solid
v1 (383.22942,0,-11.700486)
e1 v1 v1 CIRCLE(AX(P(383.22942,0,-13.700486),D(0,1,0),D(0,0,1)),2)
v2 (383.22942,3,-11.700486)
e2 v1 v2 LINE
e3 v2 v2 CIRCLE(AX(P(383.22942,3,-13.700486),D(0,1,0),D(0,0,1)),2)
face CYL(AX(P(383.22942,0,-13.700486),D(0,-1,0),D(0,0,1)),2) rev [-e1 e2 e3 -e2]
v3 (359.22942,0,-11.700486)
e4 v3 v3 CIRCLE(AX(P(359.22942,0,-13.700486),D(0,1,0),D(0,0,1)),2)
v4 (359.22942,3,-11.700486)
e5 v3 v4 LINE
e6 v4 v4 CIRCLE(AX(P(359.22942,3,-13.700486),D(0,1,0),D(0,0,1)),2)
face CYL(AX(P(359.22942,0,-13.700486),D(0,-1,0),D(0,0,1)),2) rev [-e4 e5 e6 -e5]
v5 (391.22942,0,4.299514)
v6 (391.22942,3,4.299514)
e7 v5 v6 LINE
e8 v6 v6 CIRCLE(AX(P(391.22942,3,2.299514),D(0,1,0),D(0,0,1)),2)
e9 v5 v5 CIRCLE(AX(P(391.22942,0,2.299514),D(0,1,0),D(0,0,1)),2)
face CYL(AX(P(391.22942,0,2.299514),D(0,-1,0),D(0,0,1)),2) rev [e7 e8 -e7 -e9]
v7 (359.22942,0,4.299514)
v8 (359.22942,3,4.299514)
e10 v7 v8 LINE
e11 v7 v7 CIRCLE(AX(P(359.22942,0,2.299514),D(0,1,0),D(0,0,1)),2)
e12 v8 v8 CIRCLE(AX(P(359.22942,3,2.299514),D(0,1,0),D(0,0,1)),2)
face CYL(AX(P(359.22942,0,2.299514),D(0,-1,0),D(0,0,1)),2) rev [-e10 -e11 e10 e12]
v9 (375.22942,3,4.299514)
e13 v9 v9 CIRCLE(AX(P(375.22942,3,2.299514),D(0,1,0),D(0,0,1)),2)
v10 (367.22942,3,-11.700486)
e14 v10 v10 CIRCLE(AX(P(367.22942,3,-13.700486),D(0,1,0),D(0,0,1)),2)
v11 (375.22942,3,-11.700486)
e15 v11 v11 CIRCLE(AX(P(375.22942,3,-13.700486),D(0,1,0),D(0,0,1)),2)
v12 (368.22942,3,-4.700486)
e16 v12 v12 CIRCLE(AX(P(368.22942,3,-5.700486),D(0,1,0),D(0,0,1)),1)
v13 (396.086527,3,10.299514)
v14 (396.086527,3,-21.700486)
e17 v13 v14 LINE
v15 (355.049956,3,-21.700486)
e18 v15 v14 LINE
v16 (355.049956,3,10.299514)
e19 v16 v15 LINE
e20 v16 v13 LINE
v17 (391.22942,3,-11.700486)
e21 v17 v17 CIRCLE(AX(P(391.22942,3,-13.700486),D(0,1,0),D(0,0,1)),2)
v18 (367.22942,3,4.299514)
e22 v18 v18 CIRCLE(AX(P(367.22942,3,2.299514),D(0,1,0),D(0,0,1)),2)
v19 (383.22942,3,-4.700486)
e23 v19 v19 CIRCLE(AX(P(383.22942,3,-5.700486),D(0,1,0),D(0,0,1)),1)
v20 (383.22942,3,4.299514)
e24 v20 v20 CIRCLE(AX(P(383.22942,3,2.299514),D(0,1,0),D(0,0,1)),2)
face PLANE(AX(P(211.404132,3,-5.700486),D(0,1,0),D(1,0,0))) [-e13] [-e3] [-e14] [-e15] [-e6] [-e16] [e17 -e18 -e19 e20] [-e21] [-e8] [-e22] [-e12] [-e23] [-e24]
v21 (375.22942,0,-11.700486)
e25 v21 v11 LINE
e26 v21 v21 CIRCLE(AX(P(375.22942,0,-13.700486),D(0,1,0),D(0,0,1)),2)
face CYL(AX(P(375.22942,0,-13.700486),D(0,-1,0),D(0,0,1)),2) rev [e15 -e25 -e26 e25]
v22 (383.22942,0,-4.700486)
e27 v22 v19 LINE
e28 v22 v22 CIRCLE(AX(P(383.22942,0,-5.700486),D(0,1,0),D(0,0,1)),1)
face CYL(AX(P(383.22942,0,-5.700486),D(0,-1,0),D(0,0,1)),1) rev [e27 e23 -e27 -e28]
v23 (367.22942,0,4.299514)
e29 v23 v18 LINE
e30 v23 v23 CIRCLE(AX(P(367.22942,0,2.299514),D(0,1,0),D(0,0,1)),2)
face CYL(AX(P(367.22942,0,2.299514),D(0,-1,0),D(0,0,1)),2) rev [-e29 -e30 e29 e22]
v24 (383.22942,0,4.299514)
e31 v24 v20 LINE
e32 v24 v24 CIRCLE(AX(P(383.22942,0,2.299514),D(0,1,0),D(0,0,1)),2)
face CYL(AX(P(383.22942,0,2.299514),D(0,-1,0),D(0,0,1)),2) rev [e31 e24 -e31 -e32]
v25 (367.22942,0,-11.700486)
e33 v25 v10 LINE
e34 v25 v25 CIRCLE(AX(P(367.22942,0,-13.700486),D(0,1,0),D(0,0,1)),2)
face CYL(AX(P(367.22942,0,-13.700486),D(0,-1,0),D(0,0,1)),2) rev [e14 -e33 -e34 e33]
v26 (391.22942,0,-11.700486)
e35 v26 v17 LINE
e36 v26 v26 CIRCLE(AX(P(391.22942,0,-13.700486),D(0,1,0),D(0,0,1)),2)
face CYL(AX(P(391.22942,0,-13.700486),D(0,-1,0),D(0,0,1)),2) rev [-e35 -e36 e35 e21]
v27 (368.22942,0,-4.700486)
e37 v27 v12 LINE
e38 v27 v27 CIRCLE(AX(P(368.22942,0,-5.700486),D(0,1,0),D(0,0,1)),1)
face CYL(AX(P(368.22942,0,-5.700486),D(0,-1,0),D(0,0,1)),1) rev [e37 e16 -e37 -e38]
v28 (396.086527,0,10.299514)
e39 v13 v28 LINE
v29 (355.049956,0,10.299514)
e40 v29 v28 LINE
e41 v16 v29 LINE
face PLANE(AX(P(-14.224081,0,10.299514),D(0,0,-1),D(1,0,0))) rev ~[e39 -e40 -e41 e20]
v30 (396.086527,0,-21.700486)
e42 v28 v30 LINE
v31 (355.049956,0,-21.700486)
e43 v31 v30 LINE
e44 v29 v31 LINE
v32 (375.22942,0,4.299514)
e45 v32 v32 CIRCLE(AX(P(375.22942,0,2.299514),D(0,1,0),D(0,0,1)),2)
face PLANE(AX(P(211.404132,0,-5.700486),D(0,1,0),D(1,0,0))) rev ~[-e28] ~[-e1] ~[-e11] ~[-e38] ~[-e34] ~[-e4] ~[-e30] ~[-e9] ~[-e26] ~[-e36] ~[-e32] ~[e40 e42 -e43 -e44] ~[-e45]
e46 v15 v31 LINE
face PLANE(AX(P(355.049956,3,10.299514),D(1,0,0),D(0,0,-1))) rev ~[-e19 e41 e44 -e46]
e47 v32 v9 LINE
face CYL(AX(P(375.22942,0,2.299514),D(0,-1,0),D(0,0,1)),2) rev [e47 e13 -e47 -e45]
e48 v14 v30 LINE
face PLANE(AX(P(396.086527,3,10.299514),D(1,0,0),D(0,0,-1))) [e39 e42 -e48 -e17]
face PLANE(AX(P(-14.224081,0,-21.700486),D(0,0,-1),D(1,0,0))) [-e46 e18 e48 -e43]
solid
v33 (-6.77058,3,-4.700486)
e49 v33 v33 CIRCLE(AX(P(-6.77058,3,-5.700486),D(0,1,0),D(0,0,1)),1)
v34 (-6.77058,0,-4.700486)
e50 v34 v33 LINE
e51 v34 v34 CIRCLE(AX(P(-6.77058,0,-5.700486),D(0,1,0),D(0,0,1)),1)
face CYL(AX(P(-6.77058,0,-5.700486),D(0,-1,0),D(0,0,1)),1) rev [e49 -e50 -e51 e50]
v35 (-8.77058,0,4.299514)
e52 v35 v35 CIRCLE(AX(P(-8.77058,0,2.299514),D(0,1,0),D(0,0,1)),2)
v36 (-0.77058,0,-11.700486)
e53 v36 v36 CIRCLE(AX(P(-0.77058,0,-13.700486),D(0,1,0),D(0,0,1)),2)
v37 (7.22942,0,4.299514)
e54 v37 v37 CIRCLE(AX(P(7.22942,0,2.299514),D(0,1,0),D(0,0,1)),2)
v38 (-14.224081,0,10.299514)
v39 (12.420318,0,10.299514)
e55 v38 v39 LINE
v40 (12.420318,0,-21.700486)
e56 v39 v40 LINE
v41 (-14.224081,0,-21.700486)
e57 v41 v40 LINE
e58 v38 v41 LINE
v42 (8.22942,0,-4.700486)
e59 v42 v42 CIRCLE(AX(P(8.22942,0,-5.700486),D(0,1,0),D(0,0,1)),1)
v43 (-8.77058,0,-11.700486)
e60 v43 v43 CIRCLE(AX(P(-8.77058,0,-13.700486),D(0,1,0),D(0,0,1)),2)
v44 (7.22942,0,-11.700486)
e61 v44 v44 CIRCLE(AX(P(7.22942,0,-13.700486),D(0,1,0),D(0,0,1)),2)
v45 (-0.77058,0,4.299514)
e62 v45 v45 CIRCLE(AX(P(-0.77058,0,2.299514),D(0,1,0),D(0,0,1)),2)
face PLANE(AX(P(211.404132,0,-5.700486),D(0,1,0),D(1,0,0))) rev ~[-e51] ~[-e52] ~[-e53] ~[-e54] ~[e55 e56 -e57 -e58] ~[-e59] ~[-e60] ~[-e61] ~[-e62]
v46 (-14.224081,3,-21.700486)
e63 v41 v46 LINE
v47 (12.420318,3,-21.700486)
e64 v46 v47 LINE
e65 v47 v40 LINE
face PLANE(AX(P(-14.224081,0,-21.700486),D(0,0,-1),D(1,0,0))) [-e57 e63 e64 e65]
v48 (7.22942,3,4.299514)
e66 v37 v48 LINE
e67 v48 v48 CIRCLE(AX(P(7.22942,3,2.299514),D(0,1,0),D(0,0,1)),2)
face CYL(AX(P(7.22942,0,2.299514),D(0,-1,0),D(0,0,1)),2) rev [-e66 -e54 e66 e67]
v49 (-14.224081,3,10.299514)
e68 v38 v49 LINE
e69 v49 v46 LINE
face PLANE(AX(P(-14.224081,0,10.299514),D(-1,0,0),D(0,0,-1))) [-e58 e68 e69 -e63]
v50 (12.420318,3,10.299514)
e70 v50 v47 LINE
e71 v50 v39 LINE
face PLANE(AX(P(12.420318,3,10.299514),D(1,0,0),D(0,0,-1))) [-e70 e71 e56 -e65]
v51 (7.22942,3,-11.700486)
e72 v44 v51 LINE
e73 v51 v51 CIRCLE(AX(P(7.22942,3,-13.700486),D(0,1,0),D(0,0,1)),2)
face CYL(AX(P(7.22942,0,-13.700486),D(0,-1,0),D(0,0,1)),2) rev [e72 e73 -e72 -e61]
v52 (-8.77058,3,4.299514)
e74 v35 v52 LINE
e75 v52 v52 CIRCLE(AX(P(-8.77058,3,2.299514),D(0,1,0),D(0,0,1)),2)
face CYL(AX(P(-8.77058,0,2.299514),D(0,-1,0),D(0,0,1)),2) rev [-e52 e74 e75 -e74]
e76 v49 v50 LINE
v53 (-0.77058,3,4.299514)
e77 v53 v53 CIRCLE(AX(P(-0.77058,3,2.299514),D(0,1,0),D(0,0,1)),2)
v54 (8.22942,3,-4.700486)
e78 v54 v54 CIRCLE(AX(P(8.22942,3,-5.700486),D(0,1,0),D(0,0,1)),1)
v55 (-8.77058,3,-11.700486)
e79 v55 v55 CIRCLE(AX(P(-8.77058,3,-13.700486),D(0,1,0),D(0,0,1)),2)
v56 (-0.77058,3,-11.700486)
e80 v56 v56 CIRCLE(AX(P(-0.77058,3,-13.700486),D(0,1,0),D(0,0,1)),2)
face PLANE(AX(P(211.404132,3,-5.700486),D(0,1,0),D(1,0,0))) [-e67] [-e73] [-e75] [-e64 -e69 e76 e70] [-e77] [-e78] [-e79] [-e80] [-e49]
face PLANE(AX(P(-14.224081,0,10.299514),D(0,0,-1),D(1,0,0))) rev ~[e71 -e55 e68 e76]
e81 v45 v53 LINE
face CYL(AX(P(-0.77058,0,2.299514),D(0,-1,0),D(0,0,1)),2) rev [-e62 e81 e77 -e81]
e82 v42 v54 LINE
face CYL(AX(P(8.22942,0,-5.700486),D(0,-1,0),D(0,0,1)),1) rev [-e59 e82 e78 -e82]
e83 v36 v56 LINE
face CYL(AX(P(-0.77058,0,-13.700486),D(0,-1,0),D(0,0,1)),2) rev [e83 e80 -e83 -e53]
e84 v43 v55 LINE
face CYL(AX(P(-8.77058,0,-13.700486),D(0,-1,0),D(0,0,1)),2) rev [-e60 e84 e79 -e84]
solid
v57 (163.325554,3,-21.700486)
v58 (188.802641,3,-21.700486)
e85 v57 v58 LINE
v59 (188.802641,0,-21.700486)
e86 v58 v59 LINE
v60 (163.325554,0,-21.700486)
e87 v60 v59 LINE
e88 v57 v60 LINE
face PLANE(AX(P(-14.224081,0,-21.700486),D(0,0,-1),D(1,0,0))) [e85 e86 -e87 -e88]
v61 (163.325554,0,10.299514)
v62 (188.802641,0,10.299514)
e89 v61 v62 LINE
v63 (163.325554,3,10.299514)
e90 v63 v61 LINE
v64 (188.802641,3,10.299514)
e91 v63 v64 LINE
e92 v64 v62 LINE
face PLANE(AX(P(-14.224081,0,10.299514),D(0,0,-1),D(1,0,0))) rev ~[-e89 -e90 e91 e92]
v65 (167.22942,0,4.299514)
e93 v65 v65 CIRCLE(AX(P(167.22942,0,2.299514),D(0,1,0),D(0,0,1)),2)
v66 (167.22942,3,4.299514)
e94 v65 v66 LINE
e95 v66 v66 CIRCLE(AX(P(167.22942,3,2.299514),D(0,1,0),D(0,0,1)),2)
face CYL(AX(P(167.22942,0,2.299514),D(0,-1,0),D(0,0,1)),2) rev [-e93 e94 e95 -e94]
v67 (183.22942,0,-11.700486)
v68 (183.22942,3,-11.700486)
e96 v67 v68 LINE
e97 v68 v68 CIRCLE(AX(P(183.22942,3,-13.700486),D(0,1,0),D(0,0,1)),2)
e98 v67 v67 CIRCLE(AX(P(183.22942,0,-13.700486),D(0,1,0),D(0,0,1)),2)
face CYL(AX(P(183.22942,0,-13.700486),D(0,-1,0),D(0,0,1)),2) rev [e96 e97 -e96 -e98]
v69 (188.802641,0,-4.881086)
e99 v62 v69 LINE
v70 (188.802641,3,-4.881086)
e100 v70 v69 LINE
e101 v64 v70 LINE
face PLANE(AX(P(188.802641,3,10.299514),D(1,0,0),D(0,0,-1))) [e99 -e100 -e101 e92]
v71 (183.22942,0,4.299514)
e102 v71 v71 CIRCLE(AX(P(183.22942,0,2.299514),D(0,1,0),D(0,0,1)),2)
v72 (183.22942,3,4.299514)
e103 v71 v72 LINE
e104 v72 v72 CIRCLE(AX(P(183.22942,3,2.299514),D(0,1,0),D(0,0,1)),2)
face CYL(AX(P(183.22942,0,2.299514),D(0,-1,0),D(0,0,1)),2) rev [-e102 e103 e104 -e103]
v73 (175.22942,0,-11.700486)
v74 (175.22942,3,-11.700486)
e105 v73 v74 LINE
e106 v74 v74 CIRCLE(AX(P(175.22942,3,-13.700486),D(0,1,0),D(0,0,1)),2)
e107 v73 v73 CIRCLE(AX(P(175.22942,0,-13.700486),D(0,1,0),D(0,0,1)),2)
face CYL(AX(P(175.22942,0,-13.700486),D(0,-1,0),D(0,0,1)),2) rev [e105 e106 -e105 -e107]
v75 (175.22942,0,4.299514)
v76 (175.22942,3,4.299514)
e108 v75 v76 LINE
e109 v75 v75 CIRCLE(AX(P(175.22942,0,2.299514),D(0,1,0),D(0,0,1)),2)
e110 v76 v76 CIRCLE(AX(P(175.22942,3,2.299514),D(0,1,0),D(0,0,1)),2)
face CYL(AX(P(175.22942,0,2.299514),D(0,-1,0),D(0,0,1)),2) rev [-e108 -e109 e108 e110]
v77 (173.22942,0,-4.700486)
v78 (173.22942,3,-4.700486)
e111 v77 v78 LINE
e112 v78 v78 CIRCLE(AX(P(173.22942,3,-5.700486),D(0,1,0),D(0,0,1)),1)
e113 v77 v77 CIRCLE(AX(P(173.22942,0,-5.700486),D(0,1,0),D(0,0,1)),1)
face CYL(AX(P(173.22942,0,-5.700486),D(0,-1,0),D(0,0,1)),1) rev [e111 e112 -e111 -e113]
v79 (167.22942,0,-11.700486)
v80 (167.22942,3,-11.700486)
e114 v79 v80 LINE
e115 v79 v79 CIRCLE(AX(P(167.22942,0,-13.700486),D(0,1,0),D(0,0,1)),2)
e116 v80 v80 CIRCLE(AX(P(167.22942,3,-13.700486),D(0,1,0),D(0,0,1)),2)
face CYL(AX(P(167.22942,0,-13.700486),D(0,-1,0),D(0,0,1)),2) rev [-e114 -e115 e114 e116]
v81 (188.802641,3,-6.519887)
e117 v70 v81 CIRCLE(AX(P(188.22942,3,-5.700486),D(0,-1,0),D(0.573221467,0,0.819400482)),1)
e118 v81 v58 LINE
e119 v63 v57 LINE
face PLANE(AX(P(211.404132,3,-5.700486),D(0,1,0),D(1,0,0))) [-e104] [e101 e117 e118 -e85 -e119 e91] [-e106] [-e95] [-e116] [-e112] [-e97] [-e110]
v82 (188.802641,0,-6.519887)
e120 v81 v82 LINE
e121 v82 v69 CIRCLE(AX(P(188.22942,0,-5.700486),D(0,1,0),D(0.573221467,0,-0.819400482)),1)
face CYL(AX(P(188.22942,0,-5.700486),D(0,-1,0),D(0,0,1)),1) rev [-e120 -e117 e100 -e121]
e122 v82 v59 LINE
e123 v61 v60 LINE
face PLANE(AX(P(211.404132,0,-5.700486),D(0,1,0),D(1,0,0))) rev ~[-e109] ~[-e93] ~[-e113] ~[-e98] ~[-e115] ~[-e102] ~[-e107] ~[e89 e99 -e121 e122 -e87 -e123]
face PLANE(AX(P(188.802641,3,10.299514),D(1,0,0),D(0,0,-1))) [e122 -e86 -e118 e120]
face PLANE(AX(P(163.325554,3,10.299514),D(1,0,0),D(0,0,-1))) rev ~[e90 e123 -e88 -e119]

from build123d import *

# Parameters (mm, degrees)
SKETCH_1_W          = 451.256425997
SKETCH_1_H          = 32
SKETCH_1_R          = 2
SKETCH_1_R_2        = 1
EXTRUDE_1_DEPTH     = 3
SKETCH_2_W          = 150.905235642
SKETCH_2_H          = 32
SKETCH_2_W_2        = 166.247314789
SKETCH_2_W_3        = 40.945817217
CUT_EXTRUDE_1_DEPTH = 3


with BuildPart() as part:
    # 草圖1 → 填料-伸長1 (new body)
    with BuildSketch(Plane(origin=(0, 0, 0), x_dir=(1, 0, 0), z_dir=(0, 1, 0))):
        with Locations((211.404131582, 5.700486404)):
            Rectangle(SKETCH_1_W, SKETCH_1_H)
        with Locations(Location((-8.770580193, 13.700486404, 0), (0, 0, 270))):
            Circle(SKETCH_1_R, mode=Mode.SUBTRACT)
        with Locations(Location((-8.770580193, -2.299513596, 0), (0, 0, 270))):
            Circle(SKETCH_1_R, mode=Mode.SUBTRACT)
        with Locations(Location((-0.770580193, 13.700486404, 0), (0, 0, 270))):
            Circle(SKETCH_1_R, mode=Mode.SUBTRACT)
        with Locations(Location((-0.770580193, -2.299513596, 0), (0, 0, 270))):
            Circle(SKETCH_1_R, mode=Mode.SUBTRACT)
        with Locations(Location((7.229419807, 13.700486404, 0), (0, 0, 270))):
            Circle(SKETCH_1_R, mode=Mode.SUBTRACT)
        with Locations(Location((7.229419807, -2.299513596, 0), (0, 0, 270))):
            Circle(SKETCH_1_R, mode=Mode.SUBTRACT)
        with Locations(Location((15.229419807, 13.700486404, 0), (0, 0, 270))):
            Circle(SKETCH_1_R, mode=Mode.SUBTRACT)
        with Locations(Location((15.229419807, -2.299513596, 0), (0, 0, 270))):
            Circle(SKETCH_1_R, mode=Mode.SUBTRACT)
        with Locations(Location((23.229419807, 13.700486404, 0), (0, 0, 270))):
            Circle(SKETCH_1_R, mode=Mode.SUBTRACT)
        with Locations(Location((23.229419807, -2.299513596, 0), (0, 0, 270))):
            Circle(SKETCH_1_R, mode=Mode.SUBTRACT)
        with Locations(Location((31.229419807, 13.700486404, 0), (0, 0, 270))):
            Circle(SKETCH_1_R, mode=Mode.SUBTRACT)
        with Locations(Location((31.229419807, -2.299513596, 0), (0, 0, 270))):
            Circle(SKETCH_1_R, mode=Mode.SUBTRACT)
        with Locations(Location((39.229419807, 13.700486404, 0), (0, 0, 270))):
            Circle(SKETCH_1_R, mode=Mode.SUBTRACT)
        with Locations(Location((39.229419807, -2.299513596, 0), (0, 0, 270))):
            Circle(SKETCH_1_R, mode=Mode.SUBTRACT)
        with Locations(Location((47.229419807, 13.700486404, 0), (0, 0, 270))):
            Circle(SKETCH_1_R, mode=Mode.SUBTRACT)
        with Locations(Location((47.229419807, -2.299513596, 0), (0, 0, 270))):
            Circle(SKETCH_1_R, mode=Mode.SUBTRACT)
        with Locations(Location((55.229419807, 13.700486404, 0), (0, 0, 270))):
            Circle(SKETCH_1_R, mode=Mode.SUBTRACT)
        with Locations(Location((55.229419807, -2.299513596, 0), (0, 0, 270))):
            Circle(SKETCH_1_R, mode=Mode.SUBTRACT)
        with Locations(Location((63.229419807, 13.700486404, 0), (0, 0, 270))):
            Circle(SKETCH_1_R, mode=Mode.SUBTRACT)
        with Locations(Location((63.229419807, -2.299513596, 0), (0, 0, 270))):
            Circle(SKETCH_1_R, mode=Mode.SUBTRACT)
        with Locations(Location((71.229419807, 13.700486404, 0), (0, 0, 270))):
            Circle(SKETCH_1_R, mode=Mode.SUBTRACT)
        with Locations(Location((71.229419807, -2.299513596, 0), (0, 0, 270))):
            Circle(SKETCH_1_R, mode=Mode.SUBTRACT)
        with Locations(Location((79.229419807, 13.700486404, 0), (0, 0, 270))):
            Circle(SKETCH_1_R, mode=Mode.SUBTRACT)
        with Locations(Location((79.229419807, -2.299513596, 0), (0, 0, 270))):
            Circle(SKETCH_1_R, mode=Mode.SUBTRACT)
        with Locations(Location((87.229419807, 13.700486404, 0), (0, 0, 270))):
            Circle(SKETCH_1_R, mode=Mode.SUBTRACT)
        with Locations(Location((87.229419807, -2.299513596, 0), (0, 0, 270))):
            Circle(SKETCH_1_R, mode=Mode.SUBTRACT)
        with Locations(Location((95.229419807, 13.700486404, 0), (0, 0, 270))):
            Circle(SKETCH_1_R, mode=Mode.SUBTRACT)
        with Locations(Location((95.229419807, -2.299513596, 0), (0, 0, 270))):
            Circle(SKETCH_1_R, mode=Mode.SUBTRACT)
        with Locations(Location((103.229419807, 13.700486404, 0), (0, 0, 270))):
            Circle(SKETCH_1_R, mode=Mode.SUBTRACT)
        with Locations(Location((103.229419807, -2.299513596, 0), (0, 0, 270))):
            Circle(SKETCH_1_R, mode=Mode.SUBTRACT)
        with Locations(Location((111.229419807, 13.700486404, 0), (0, 0, 270))):
            Circle(SKETCH_1_R, mode=Mode.SUBTRACT)
        with Locations(Location((111.229419807, -2.299513596, 0), (0, 0, 270))):
            Circle(SKETCH_1_R, mode=Mode.SUBTRACT)
        with Locations(Location((119.229419807, 13.700486404, 0), (0, 0, 270))):
            Circle(SKETCH_1_R, mode=Mode.SUBTRACT)
        with Locations(Location((119.229419807, -2.299513596, 0), (0, 0, 270))):
            Circle(SKETCH_1_R, mode=Mode.SUBTRACT)
        with Locations(Location((127.229419807, 13.700486404, 0), (0, 0, 270))):
            Circle(SKETCH_1_R, mode=Mode.SUBTRACT)
        with Locations(Location((127.229419807, -2.299513596, 0), (0, 0, 270))):
            Circle(SKETCH_1_R, mode=Mode.SUBTRACT)
        with Locations(Location((135.229419807, 13.700486404, 0), (0, 0, 270))):
            Circle(SKETCH_1_R, mode=Mode.SUBTRACT)
        with Locations(Location((135.229419807, -2.299513596, 0), (0, 0, 270))):
            Circle(SKETCH_1_R, mode=Mode.SUBTRACT)
        with Locations(Location((143.229419807, 13.700486404, 0), (0, 0, 270))):
            Circle(SKETCH_1_R, mode=Mode.SUBTRACT)
        with Locations(Location((143.229419807, -2.299513596, 0), (0, 0, 270))):
            Circle(SKETCH_1_R, mode=Mode.SUBTRACT)
        with Locations(Location((151.229419807, 13.700486404, 0), (0, 0, 270))):
            Circle(SKETCH_1_R, mode=Mode.SUBTRACT)
        with Locations(Location((151.229419807, -2.299513596, 0), (0, 0, 270))):
            Circle(SKETCH_1_R, mode=Mode.SUBTRACT)
        with Locations(Location((159.229419807, 13.700486404, 0), (0, 0, 270))):
            Circle(SKETCH_1_R, mode=Mode.SUBTRACT)
        with Locations(Location((159.229419807, -2.299513596, 0), (0, 0, 270))):
            Circle(SKETCH_1_R, mode=Mode.SUBTRACT)
        with Locations(Location((167.229419807, 13.700486404, 0), (0, 0, 270))):
            Circle(SKETCH_1_R, mode=Mode.SUBTRACT)
        with Locations(Location((167.229419807, -2.299513596, 0), (0, 0, 270))):
            Circle(SKETCH_1_R, mode=Mode.SUBTRACT)
        with Locations(Location((175.229419807, 13.700486404, 0), (0, 0, 270))):
            Circle(SKETCH_1_R, mode=Mode.SUBTRACT)
        with Locations(Location((175.229419807, -2.299513596, 0), (0, 0, 270))):
            Circle(SKETCH_1_R, mode=Mode.SUBTRACT)
        with Locations(Location((183.229419807, 13.700486404, 0), (0, 0, 270))):
            Circle(SKETCH_1_R, mode=Mode.SUBTRACT)
        with Locations(Location((183.229419807, -2.299513596, 0), (0, 0, 270))):
            Circle(SKETCH_1_R, mode=Mode.SUBTRACT)
        with Locations(Location((191.229419807, 13.700486404, 0), (0, 0, 270))):
            Circle(SKETCH_1_R, mode=Mode.SUBTRACT)
        with Locations(Location((191.229419807, -2.299513596, 0), (0, 0, 270))):
            Circle(SKETCH_1_R, mode=Mode.SUBTRACT)
        with Locations(Location((199.229419807, 13.700486404, 0), (0, 0, 270))):
            Circle(SKETCH_1_R, mode=Mode.SUBTRACT)
        with Locations(Location((199.229419807, -2.299513596, 0), (0, 0, 270))):
            Circle(SKETCH_1_R, mode=Mode.SUBTRACT)
        with Locations(Location((207.229419807, 13.700486404, 0), (0, 0, 270))):
            Circle(SKETCH_1_R, mode=Mode.SUBTRACT)
        with Locations(Location((207.229419807, -2.299513596, 0), (0, 0, 270))):
            Circle(SKETCH_1_R, mode=Mode.SUBTRACT)
        with Locations(Location((215.229419807, 13.700486404, 0), (0, 0, 270))):
            Circle(SKETCH_1_R, mode=Mode.SUBTRACT)
        with Locations(Location((215.229419807, -2.299513596, 0), (0, 0, 270))):
            Circle(SKETCH_1_R, mode=Mode.SUBTRACT)
        with Locations(Location((223.229419807, 13.700486404, 0), (0, 0, 270))):
            Circle(SKETCH_1_R, mode=Mode.SUBTRACT)
        with Locations(Location((223.229419807, -2.299513596, 0), (0, 0, 270))):
            Circle(SKETCH_1_R, mode=Mode.SUBTRACT)
        with Locations(Location((231.229419807, 13.700486404, 0), (0, 0, 270))):
            Circle(SKETCH_1_R, mode=Mode.SUBTRACT)
        with Locations(Location((231.229419807, -2.299513596, 0), (0, 0, 270))):
            Circle(SKETCH_1_R, mode=Mode.SUBTRACT)
        with Locations(Location((239.229419807, 13.700486404, 0), (0, 0, 270))):
            Circle(SKETCH_1_R, mode=Mode.SUBTRACT)
        with Locations(Location((239.229419807, -2.299513596, 0), (0, 0, 270))):
            Circle(SKETCH_1_R, mode=Mode.SUBTRACT)
        with Locations(Location((247.229419807, 13.700486404, 0), (0, 0, 270))):
            Circle(SKETCH_1_R, mode=Mode.SUBTRACT)
        with Locations(Location((247.229419807, -2.299513596, 0), (0, 0, 270))):
            Circle(SKETCH_1_R, mode=Mode.SUBTRACT)
        with Locations(Location((255.229419807, 13.700486404, 0), (0, 0, 270))):
            Circle(SKETCH_1_R, mode=Mode.SUBTRACT)
        with Locations(Location((255.229419807, -2.299513596, 0), (0, 0, 270))):
            Circle(SKETCH_1_R, mode=Mode.SUBTRACT)
        with Locations(Location((263.229419807, 13.700486404, 0), (0, 0, 270))):
            Circle(SKETCH_1_R, mode=Mode.SUBTRACT)
        with Locations(Location((263.229419807, -2.299513596, 0), (0, 0, 270))):
            Circle(SKETCH_1_R, mode=Mode.SUBTRACT)
        with Locations(Location((271.229419807, 13.700486404, 0), (0, 0, 270))):
            Circle(SKETCH_1_R, mode=Mode.SUBTRACT)
        with Locations(Location((271.229419807, -2.299513596, 0), (0, 0, 270))):
            Circle(SKETCH_1_R, mode=Mode.SUBTRACT)
        with Locations(Location((279.229419807, 13.700486404, 0), (0, 0, 270))):
            Circle(SKETCH_1_R, mode=Mode.SUBTRACT)
        with Locations(Location((279.229419807, -2.299513596, 0), (0, 0, 270))):
            Circle(SKETCH_1_R, mode=Mode.SUBTRACT)
        with Locations(Location((287.229419807, 13.700486404, 0), (0, 0, 270))):
            Circle(SKETCH_1_R, mode=Mode.SUBTRACT)
        with Locations(Location((287.229419807, -2.299513596, 0), (0, 0, 270))):
            Circle(SKETCH_1_R, mode=Mode.SUBTRACT)
        with Locations(Location((295.229419807, 13.700486404, 0), (0, 0, 270))):
            Circle(SKETCH_1_R, mode=Mode.SUBTRACT)
        with Locations(Location((295.229419807, -2.299513596, 0), (0, 0, 270))):
            Circle(SKETCH_1_R, mode=Mode.SUBTRACT)
        with Locations(Location((303.229419807, 13.700486404, 0), (0, 0, 270))):
            Circle(SKETCH_1_R, mode=Mode.SUBTRACT)
        with Locations(Location((303.229419807, -2.299513596, 0), (0, 0, 270))):
            Circle(SKETCH_1_R, mode=Mode.SUBTRACT)
        with Locations(Location((311.229419807, 13.700486404, 0), (0, 0, 270))):
            Circle(SKETCH_1_R, mode=Mode.SUBTRACT)
        with Locations(Location((311.229419807, -2.299513596, 0), (0, 0, 270))):
            Circle(SKETCH_1_R, mode=Mode.SUBTRACT)
        with Locations(Location((319.229419807, 13.700486404, 0), (0, 0, 270))):
            Circle(SKETCH_1_R, mode=Mode.SUBTRACT)
        with Locations(Location((319.229419807, -2.299513596, 0), (0, 0, 270))):
            Circle(SKETCH_1_R, mode=Mode.SUBTRACT)
        with Locations(Location((327.229419807, 13.700486404, 0), (0, 0, 270))):
            Circle(SKETCH_1_R, mode=Mode.SUBTRACT)
        with Locations(Location((327.229419807, -2.299513596, 0), (0, 0, 270))):
            Circle(SKETCH_1_R, mode=Mode.SUBTRACT)
        with Locations(Location((335.229419807, 13.700486404, 0), (0, 0, 270))):
            Circle(SKETCH_1_R, mode=Mode.SUBTRACT)
        with Locations(Location((335.229419807, -2.299513596, 0), (0, 0, 270))):
            Circle(SKETCH_1_R, mode=Mode.SUBTRACT)
        with Locations(Location((343.229419807, 13.700486404, 0), (0, 0, 270))):
            Circle(SKETCH_1_R, mode=Mode.SUBTRACT)
        with Locations(Location((343.229419807, -2.299513596, 0), (0, 0, 270))):
            Circle(SKETCH_1_R, mode=Mode.SUBTRACT)
        with Locations(Location((351.229419807, 13.700486404, 0), (0, 0, 270))):
            Circle(SKETCH_1_R, mode=Mode.SUBTRACT)
        with Locations(Location((351.229419807, -2.299513596, 0), (0, 0, 270))):
            Circle(SKETCH_1_R, mode=Mode.SUBTRACT)
        with Locations(Location((359.229419807, 13.700486404, 0), (0, 0, 270))):
            Circle(SKETCH_1_R, mode=Mode.SUBTRACT)
        with Locations(Location((359.229419807, -2.299513596, 0), (0, 0, 270))):
            Circle(SKETCH_1_R, mode=Mode.SUBTRACT)
        with Locations(Location((367.229419807, 13.700486404, 0), (0, 0, 270))):
            Circle(SKETCH_1_R, mode=Mode.SUBTRACT)
        with Locations(Location((367.229419807, -2.299513596, 0), (0, 0, 270))):
            Circle(SKETCH_1_R, mode=Mode.SUBTRACT)
        with Locations(Location((375.229419807, 13.700486404, 0), (0, 0, 270))):
            Circle(SKETCH_1_R, mode=Mode.SUBTRACT)
        with Locations(Location((375.229419807, -2.299513596, 0), (0, 0, 270))):
            Circle(SKETCH_1_R, mode=Mode.SUBTRACT)
        with Locations(Location((383.229419807, 13.700486404, 0), (0, 0, 270))):
            Circle(SKETCH_1_R, mode=Mode.SUBTRACT)
        with Locations(Location((383.229419807, -2.299513596, 0), (0, 0, 270))):
            Circle(SKETCH_1_R, mode=Mode.SUBTRACT)
        with Locations(Location((391.229419807, 13.700486404, 0), (0, 0, 270))):
            Circle(SKETCH_1_R, mode=Mode.SUBTRACT)
        with Locations(Location((391.229419807, -2.299513596, 0), (0, 0, 270))):
            Circle(SKETCH_1_R, mode=Mode.SUBTRACT)
        with Locations(Location((399.229419807, 13.700486404, 0), (0, 0, 270))):
            Circle(SKETCH_1_R, mode=Mode.SUBTRACT)
        with Locations(Location((399.229419807, -2.299513596, 0), (0, 0, 270))):
            Circle(SKETCH_1_R, mode=Mode.SUBTRACT)
        with Locations(Location((407.229419807, 13.700486404, 0), (0, 0, 270))):
            Circle(SKETCH_1_R, mode=Mode.SUBTRACT)
        with Locations(Location((407.229419807, -2.299513596, 0), (0, 0, 270))):
            Circle(SKETCH_1_R, mode=Mode.SUBTRACT)
        with Locations(Location((415.229419807, 13.700486404, 0), (0, 0, 270))):
            Circle(SKETCH_1_R, mode=Mode.SUBTRACT)
        with Locations(Location((415.229419807, -2.299513596, 0), (0, 0, 270))):
            Circle(SKETCH_1_R, mode=Mode.SUBTRACT)
        with Locations(Location((423.229419807, 13.700486404, 0), (0, 0, 270))):
            Circle(SKETCH_1_R, mode=Mode.SUBTRACT)
        with Locations(Location((423.229419807, -2.299513596, 0), (0, 0, 270))):
            Circle(SKETCH_1_R, mode=Mode.SUBTRACT)
        with Locations(Location((431.229419807, 13.700486404, 0), (0, 0, 270))):
            Circle(SKETCH_1_R, mode=Mode.SUBTRACT)
        with Locations(Location((431.229419807, -2.299513596, 0), (0, 0, 270))):
            Circle(SKETCH_1_R, mode=Mode.SUBTRACT)
        with Locations(Location((-6.770580193, 5.700486404, 0), (0, 0, 270))):
            Circle(SKETCH_1_R_2, mode=Mode.SUBTRACT)
        with Locations(Location((8.229419807, 5.700486404, 0), (0, 0, 270))):
            Circle(SKETCH_1_R_2, mode=Mode.SUBTRACT)
        with Locations(Location((23.229419807, 5.700486404, 0), (0, 0, 270))):
            Circle(SKETCH_1_R_2, mode=Mode.SUBTRACT)
        with Locations(Location((38.229419807, 5.700486404, 0), (0, 0, 270))):
            Circle(SKETCH_1_R_2, mode=Mode.SUBTRACT)
        with Locations(Location((53.229419807, 5.700486404, 0), (0, 0, 270))):
            Circle(SKETCH_1_R_2, mode=Mode.SUBTRACT)
        with Locations(Location((68.229419807, 5.700486404, 0), (0, 0, 270))):
            Circle(SKETCH_1_R_2, mode=Mode.SUBTRACT)
        with Locations(Location((83.229419807, 5.700486404, 0), (0, 0, 270))):
            Circle(SKETCH_1_R_2, mode=Mode.SUBTRACT)
        with Locations(Location((98.229419807, 5.700486404, 0), (0, 0, 270))):
            Circle(SKETCH_1_R_2, mode=Mode.SUBTRACT)
        with Locations(Location((113.229419807, 5.700486404, 0), (0, 0, 270))):
            Circle(SKETCH_1_R_2, mode=Mode.SUBTRACT)
        with Locations(Location((128.229419807, 5.700486404, 0), (0, 0, 270))):
            Circle(SKETCH_1_R_2, mode=Mode.SUBTRACT)
        with Locations(Location((143.229419807, 5.700486404, 0), (0, 0, 270))):
            Circle(SKETCH_1_R_2, mode=Mode.SUBTRACT)
        with Locations(Location((158.229419807, 5.700486404, 0), (0, 0, 270))):
            Circle(SKETCH_1_R_2, mode=Mode.SUBTRACT)
        with Locations(Location((173.229419807, 5.700486404, 0), (0, 0, 270))):
            Circle(SKETCH_1_R_2, mode=Mode.SUBTRACT)
        with Locations(Location((188.229419807, 5.700486404, 0), (0, 0, 270))):
            Circle(SKETCH_1_R_2, mode=Mode.SUBTRACT)
        with Locations(Location((203.229419807, 5.700486404, 0), (0, 0, 270))):
            Circle(SKETCH_1_R_2, mode=Mode.SUBTRACT)
        with Locations(Location((218.229419807, 5.700486404, 0), (0, 0, 270))):
            Circle(SKETCH_1_R_2, mode=Mode.SUBTRACT)
        with Locations(Location((233.229419807, 5.700486404, 0), (0, 0, 270))):
            Circle(SKETCH_1_R_2, mode=Mode.SUBTRACT)
        with Locations(Location((248.229419807, 5.700486404, 0), (0, 0, 270))):
            Circle(SKETCH_1_R_2, mode=Mode.SUBTRACT)
        with Locations(Location((263.229419807, 5.700486404, 0), (0, 0, 270))):
            Circle(SKETCH_1_R_2, mode=Mode.SUBTRACT)
        with Locations(Location((278.229419807, 5.700486404, 0), (0, 0, 270))):
            Circle(SKETCH_1_R_2, mode=Mode.SUBTRACT)
        with Locations(Location((293.229419807, 5.700486404, 0), (0, 0, 270))):
            Circle(SKETCH_1_R_2, mode=Mode.SUBTRACT)
        with Locations(Location((308.229419807, 5.700486404, 0), (0, 0, 270))):
            Circle(SKETCH_1_R_2, mode=Mode.SUBTRACT)
        with Locations(Location((323.229419807, 5.700486404, 0), (0, 0, 270))):
            Circle(SKETCH_1_R_2, mode=Mode.SUBTRACT)
        with Locations(Location((338.229419807, 5.700486404, 0), (0, 0, 270))):
            Circle(SKETCH_1_R_2, mode=Mode.SUBTRACT)
        with Locations(Location((353.229419807, 5.700486404, 0), (0, 0, 270))):
            Circle(SKETCH_1_R_2, mode=Mode.SUBTRACT)
        with Locations(Location((368.229419807, 5.700486404, 0), (0, 0, 270))):
            Circle(SKETCH_1_R_2, mode=Mode.SUBTRACT)
        with Locations(Location((383.229419807, 5.700486404, 0), (0, 0, 270))):
            Circle(SKETCH_1_R_2, mode=Mode.SUBTRACT)
    extrude(amount=EXTRUDE_1_DEPTH)

    # 草圖2 → 除料-伸長1 (cut)
    with BuildSketch(Plane(origin=(0, 3, 0), x_dir=(1, 0, 0), z_dir=(0, 1, 0))):
        with Locations((87.872936127, 5.700486404)):
            Rectangle(SKETCH_2_W, SKETCH_2_H)
        with Locations((271.926298668, 5.700486404)):
            Rectangle(SKETCH_2_W_2, SKETCH_2_H)
        with Locations((416.559435972, 5.700486404)):
            Rectangle(SKETCH_2_W_3, SKETCH_2_H)
    extrude(amount=-CUT_EXTRUDE_1_DEPTH, mode=Mode.SUBTRACT)


with BuildPart() as cut_extrude_1_piece_1:
    # of the separate pieces the step leaves, piece 1, a body of its own (cut_extrude_1_pieces)
    add(part.part.solids().sort_by_distance((396.086527363, 0, -21.700486404))[0])


with BuildPart() as cut_extrude_1_piece_2:
    # of the separate pieces the step leaves, piece 2, a body of its own (cut_extrude_1_pieces)
    add(part.part.solids().sort_by_distance((12.420318306, 0, -21.700486404))[0])


with BuildPart() as cut_extrude_1_piece_3:
    # of the separate pieces the step leaves, piece 3, a body of its own (cut_extrude_1_pieces)
    add(part.part.solids().sort_by_distance((188.802641273, 0, -21.700486404))[0])


solid = Compound([cut_extrude_1_piece_1.part, cut_extrude_1_piece_2.part, cut_extrude_1_piece_3.part])
